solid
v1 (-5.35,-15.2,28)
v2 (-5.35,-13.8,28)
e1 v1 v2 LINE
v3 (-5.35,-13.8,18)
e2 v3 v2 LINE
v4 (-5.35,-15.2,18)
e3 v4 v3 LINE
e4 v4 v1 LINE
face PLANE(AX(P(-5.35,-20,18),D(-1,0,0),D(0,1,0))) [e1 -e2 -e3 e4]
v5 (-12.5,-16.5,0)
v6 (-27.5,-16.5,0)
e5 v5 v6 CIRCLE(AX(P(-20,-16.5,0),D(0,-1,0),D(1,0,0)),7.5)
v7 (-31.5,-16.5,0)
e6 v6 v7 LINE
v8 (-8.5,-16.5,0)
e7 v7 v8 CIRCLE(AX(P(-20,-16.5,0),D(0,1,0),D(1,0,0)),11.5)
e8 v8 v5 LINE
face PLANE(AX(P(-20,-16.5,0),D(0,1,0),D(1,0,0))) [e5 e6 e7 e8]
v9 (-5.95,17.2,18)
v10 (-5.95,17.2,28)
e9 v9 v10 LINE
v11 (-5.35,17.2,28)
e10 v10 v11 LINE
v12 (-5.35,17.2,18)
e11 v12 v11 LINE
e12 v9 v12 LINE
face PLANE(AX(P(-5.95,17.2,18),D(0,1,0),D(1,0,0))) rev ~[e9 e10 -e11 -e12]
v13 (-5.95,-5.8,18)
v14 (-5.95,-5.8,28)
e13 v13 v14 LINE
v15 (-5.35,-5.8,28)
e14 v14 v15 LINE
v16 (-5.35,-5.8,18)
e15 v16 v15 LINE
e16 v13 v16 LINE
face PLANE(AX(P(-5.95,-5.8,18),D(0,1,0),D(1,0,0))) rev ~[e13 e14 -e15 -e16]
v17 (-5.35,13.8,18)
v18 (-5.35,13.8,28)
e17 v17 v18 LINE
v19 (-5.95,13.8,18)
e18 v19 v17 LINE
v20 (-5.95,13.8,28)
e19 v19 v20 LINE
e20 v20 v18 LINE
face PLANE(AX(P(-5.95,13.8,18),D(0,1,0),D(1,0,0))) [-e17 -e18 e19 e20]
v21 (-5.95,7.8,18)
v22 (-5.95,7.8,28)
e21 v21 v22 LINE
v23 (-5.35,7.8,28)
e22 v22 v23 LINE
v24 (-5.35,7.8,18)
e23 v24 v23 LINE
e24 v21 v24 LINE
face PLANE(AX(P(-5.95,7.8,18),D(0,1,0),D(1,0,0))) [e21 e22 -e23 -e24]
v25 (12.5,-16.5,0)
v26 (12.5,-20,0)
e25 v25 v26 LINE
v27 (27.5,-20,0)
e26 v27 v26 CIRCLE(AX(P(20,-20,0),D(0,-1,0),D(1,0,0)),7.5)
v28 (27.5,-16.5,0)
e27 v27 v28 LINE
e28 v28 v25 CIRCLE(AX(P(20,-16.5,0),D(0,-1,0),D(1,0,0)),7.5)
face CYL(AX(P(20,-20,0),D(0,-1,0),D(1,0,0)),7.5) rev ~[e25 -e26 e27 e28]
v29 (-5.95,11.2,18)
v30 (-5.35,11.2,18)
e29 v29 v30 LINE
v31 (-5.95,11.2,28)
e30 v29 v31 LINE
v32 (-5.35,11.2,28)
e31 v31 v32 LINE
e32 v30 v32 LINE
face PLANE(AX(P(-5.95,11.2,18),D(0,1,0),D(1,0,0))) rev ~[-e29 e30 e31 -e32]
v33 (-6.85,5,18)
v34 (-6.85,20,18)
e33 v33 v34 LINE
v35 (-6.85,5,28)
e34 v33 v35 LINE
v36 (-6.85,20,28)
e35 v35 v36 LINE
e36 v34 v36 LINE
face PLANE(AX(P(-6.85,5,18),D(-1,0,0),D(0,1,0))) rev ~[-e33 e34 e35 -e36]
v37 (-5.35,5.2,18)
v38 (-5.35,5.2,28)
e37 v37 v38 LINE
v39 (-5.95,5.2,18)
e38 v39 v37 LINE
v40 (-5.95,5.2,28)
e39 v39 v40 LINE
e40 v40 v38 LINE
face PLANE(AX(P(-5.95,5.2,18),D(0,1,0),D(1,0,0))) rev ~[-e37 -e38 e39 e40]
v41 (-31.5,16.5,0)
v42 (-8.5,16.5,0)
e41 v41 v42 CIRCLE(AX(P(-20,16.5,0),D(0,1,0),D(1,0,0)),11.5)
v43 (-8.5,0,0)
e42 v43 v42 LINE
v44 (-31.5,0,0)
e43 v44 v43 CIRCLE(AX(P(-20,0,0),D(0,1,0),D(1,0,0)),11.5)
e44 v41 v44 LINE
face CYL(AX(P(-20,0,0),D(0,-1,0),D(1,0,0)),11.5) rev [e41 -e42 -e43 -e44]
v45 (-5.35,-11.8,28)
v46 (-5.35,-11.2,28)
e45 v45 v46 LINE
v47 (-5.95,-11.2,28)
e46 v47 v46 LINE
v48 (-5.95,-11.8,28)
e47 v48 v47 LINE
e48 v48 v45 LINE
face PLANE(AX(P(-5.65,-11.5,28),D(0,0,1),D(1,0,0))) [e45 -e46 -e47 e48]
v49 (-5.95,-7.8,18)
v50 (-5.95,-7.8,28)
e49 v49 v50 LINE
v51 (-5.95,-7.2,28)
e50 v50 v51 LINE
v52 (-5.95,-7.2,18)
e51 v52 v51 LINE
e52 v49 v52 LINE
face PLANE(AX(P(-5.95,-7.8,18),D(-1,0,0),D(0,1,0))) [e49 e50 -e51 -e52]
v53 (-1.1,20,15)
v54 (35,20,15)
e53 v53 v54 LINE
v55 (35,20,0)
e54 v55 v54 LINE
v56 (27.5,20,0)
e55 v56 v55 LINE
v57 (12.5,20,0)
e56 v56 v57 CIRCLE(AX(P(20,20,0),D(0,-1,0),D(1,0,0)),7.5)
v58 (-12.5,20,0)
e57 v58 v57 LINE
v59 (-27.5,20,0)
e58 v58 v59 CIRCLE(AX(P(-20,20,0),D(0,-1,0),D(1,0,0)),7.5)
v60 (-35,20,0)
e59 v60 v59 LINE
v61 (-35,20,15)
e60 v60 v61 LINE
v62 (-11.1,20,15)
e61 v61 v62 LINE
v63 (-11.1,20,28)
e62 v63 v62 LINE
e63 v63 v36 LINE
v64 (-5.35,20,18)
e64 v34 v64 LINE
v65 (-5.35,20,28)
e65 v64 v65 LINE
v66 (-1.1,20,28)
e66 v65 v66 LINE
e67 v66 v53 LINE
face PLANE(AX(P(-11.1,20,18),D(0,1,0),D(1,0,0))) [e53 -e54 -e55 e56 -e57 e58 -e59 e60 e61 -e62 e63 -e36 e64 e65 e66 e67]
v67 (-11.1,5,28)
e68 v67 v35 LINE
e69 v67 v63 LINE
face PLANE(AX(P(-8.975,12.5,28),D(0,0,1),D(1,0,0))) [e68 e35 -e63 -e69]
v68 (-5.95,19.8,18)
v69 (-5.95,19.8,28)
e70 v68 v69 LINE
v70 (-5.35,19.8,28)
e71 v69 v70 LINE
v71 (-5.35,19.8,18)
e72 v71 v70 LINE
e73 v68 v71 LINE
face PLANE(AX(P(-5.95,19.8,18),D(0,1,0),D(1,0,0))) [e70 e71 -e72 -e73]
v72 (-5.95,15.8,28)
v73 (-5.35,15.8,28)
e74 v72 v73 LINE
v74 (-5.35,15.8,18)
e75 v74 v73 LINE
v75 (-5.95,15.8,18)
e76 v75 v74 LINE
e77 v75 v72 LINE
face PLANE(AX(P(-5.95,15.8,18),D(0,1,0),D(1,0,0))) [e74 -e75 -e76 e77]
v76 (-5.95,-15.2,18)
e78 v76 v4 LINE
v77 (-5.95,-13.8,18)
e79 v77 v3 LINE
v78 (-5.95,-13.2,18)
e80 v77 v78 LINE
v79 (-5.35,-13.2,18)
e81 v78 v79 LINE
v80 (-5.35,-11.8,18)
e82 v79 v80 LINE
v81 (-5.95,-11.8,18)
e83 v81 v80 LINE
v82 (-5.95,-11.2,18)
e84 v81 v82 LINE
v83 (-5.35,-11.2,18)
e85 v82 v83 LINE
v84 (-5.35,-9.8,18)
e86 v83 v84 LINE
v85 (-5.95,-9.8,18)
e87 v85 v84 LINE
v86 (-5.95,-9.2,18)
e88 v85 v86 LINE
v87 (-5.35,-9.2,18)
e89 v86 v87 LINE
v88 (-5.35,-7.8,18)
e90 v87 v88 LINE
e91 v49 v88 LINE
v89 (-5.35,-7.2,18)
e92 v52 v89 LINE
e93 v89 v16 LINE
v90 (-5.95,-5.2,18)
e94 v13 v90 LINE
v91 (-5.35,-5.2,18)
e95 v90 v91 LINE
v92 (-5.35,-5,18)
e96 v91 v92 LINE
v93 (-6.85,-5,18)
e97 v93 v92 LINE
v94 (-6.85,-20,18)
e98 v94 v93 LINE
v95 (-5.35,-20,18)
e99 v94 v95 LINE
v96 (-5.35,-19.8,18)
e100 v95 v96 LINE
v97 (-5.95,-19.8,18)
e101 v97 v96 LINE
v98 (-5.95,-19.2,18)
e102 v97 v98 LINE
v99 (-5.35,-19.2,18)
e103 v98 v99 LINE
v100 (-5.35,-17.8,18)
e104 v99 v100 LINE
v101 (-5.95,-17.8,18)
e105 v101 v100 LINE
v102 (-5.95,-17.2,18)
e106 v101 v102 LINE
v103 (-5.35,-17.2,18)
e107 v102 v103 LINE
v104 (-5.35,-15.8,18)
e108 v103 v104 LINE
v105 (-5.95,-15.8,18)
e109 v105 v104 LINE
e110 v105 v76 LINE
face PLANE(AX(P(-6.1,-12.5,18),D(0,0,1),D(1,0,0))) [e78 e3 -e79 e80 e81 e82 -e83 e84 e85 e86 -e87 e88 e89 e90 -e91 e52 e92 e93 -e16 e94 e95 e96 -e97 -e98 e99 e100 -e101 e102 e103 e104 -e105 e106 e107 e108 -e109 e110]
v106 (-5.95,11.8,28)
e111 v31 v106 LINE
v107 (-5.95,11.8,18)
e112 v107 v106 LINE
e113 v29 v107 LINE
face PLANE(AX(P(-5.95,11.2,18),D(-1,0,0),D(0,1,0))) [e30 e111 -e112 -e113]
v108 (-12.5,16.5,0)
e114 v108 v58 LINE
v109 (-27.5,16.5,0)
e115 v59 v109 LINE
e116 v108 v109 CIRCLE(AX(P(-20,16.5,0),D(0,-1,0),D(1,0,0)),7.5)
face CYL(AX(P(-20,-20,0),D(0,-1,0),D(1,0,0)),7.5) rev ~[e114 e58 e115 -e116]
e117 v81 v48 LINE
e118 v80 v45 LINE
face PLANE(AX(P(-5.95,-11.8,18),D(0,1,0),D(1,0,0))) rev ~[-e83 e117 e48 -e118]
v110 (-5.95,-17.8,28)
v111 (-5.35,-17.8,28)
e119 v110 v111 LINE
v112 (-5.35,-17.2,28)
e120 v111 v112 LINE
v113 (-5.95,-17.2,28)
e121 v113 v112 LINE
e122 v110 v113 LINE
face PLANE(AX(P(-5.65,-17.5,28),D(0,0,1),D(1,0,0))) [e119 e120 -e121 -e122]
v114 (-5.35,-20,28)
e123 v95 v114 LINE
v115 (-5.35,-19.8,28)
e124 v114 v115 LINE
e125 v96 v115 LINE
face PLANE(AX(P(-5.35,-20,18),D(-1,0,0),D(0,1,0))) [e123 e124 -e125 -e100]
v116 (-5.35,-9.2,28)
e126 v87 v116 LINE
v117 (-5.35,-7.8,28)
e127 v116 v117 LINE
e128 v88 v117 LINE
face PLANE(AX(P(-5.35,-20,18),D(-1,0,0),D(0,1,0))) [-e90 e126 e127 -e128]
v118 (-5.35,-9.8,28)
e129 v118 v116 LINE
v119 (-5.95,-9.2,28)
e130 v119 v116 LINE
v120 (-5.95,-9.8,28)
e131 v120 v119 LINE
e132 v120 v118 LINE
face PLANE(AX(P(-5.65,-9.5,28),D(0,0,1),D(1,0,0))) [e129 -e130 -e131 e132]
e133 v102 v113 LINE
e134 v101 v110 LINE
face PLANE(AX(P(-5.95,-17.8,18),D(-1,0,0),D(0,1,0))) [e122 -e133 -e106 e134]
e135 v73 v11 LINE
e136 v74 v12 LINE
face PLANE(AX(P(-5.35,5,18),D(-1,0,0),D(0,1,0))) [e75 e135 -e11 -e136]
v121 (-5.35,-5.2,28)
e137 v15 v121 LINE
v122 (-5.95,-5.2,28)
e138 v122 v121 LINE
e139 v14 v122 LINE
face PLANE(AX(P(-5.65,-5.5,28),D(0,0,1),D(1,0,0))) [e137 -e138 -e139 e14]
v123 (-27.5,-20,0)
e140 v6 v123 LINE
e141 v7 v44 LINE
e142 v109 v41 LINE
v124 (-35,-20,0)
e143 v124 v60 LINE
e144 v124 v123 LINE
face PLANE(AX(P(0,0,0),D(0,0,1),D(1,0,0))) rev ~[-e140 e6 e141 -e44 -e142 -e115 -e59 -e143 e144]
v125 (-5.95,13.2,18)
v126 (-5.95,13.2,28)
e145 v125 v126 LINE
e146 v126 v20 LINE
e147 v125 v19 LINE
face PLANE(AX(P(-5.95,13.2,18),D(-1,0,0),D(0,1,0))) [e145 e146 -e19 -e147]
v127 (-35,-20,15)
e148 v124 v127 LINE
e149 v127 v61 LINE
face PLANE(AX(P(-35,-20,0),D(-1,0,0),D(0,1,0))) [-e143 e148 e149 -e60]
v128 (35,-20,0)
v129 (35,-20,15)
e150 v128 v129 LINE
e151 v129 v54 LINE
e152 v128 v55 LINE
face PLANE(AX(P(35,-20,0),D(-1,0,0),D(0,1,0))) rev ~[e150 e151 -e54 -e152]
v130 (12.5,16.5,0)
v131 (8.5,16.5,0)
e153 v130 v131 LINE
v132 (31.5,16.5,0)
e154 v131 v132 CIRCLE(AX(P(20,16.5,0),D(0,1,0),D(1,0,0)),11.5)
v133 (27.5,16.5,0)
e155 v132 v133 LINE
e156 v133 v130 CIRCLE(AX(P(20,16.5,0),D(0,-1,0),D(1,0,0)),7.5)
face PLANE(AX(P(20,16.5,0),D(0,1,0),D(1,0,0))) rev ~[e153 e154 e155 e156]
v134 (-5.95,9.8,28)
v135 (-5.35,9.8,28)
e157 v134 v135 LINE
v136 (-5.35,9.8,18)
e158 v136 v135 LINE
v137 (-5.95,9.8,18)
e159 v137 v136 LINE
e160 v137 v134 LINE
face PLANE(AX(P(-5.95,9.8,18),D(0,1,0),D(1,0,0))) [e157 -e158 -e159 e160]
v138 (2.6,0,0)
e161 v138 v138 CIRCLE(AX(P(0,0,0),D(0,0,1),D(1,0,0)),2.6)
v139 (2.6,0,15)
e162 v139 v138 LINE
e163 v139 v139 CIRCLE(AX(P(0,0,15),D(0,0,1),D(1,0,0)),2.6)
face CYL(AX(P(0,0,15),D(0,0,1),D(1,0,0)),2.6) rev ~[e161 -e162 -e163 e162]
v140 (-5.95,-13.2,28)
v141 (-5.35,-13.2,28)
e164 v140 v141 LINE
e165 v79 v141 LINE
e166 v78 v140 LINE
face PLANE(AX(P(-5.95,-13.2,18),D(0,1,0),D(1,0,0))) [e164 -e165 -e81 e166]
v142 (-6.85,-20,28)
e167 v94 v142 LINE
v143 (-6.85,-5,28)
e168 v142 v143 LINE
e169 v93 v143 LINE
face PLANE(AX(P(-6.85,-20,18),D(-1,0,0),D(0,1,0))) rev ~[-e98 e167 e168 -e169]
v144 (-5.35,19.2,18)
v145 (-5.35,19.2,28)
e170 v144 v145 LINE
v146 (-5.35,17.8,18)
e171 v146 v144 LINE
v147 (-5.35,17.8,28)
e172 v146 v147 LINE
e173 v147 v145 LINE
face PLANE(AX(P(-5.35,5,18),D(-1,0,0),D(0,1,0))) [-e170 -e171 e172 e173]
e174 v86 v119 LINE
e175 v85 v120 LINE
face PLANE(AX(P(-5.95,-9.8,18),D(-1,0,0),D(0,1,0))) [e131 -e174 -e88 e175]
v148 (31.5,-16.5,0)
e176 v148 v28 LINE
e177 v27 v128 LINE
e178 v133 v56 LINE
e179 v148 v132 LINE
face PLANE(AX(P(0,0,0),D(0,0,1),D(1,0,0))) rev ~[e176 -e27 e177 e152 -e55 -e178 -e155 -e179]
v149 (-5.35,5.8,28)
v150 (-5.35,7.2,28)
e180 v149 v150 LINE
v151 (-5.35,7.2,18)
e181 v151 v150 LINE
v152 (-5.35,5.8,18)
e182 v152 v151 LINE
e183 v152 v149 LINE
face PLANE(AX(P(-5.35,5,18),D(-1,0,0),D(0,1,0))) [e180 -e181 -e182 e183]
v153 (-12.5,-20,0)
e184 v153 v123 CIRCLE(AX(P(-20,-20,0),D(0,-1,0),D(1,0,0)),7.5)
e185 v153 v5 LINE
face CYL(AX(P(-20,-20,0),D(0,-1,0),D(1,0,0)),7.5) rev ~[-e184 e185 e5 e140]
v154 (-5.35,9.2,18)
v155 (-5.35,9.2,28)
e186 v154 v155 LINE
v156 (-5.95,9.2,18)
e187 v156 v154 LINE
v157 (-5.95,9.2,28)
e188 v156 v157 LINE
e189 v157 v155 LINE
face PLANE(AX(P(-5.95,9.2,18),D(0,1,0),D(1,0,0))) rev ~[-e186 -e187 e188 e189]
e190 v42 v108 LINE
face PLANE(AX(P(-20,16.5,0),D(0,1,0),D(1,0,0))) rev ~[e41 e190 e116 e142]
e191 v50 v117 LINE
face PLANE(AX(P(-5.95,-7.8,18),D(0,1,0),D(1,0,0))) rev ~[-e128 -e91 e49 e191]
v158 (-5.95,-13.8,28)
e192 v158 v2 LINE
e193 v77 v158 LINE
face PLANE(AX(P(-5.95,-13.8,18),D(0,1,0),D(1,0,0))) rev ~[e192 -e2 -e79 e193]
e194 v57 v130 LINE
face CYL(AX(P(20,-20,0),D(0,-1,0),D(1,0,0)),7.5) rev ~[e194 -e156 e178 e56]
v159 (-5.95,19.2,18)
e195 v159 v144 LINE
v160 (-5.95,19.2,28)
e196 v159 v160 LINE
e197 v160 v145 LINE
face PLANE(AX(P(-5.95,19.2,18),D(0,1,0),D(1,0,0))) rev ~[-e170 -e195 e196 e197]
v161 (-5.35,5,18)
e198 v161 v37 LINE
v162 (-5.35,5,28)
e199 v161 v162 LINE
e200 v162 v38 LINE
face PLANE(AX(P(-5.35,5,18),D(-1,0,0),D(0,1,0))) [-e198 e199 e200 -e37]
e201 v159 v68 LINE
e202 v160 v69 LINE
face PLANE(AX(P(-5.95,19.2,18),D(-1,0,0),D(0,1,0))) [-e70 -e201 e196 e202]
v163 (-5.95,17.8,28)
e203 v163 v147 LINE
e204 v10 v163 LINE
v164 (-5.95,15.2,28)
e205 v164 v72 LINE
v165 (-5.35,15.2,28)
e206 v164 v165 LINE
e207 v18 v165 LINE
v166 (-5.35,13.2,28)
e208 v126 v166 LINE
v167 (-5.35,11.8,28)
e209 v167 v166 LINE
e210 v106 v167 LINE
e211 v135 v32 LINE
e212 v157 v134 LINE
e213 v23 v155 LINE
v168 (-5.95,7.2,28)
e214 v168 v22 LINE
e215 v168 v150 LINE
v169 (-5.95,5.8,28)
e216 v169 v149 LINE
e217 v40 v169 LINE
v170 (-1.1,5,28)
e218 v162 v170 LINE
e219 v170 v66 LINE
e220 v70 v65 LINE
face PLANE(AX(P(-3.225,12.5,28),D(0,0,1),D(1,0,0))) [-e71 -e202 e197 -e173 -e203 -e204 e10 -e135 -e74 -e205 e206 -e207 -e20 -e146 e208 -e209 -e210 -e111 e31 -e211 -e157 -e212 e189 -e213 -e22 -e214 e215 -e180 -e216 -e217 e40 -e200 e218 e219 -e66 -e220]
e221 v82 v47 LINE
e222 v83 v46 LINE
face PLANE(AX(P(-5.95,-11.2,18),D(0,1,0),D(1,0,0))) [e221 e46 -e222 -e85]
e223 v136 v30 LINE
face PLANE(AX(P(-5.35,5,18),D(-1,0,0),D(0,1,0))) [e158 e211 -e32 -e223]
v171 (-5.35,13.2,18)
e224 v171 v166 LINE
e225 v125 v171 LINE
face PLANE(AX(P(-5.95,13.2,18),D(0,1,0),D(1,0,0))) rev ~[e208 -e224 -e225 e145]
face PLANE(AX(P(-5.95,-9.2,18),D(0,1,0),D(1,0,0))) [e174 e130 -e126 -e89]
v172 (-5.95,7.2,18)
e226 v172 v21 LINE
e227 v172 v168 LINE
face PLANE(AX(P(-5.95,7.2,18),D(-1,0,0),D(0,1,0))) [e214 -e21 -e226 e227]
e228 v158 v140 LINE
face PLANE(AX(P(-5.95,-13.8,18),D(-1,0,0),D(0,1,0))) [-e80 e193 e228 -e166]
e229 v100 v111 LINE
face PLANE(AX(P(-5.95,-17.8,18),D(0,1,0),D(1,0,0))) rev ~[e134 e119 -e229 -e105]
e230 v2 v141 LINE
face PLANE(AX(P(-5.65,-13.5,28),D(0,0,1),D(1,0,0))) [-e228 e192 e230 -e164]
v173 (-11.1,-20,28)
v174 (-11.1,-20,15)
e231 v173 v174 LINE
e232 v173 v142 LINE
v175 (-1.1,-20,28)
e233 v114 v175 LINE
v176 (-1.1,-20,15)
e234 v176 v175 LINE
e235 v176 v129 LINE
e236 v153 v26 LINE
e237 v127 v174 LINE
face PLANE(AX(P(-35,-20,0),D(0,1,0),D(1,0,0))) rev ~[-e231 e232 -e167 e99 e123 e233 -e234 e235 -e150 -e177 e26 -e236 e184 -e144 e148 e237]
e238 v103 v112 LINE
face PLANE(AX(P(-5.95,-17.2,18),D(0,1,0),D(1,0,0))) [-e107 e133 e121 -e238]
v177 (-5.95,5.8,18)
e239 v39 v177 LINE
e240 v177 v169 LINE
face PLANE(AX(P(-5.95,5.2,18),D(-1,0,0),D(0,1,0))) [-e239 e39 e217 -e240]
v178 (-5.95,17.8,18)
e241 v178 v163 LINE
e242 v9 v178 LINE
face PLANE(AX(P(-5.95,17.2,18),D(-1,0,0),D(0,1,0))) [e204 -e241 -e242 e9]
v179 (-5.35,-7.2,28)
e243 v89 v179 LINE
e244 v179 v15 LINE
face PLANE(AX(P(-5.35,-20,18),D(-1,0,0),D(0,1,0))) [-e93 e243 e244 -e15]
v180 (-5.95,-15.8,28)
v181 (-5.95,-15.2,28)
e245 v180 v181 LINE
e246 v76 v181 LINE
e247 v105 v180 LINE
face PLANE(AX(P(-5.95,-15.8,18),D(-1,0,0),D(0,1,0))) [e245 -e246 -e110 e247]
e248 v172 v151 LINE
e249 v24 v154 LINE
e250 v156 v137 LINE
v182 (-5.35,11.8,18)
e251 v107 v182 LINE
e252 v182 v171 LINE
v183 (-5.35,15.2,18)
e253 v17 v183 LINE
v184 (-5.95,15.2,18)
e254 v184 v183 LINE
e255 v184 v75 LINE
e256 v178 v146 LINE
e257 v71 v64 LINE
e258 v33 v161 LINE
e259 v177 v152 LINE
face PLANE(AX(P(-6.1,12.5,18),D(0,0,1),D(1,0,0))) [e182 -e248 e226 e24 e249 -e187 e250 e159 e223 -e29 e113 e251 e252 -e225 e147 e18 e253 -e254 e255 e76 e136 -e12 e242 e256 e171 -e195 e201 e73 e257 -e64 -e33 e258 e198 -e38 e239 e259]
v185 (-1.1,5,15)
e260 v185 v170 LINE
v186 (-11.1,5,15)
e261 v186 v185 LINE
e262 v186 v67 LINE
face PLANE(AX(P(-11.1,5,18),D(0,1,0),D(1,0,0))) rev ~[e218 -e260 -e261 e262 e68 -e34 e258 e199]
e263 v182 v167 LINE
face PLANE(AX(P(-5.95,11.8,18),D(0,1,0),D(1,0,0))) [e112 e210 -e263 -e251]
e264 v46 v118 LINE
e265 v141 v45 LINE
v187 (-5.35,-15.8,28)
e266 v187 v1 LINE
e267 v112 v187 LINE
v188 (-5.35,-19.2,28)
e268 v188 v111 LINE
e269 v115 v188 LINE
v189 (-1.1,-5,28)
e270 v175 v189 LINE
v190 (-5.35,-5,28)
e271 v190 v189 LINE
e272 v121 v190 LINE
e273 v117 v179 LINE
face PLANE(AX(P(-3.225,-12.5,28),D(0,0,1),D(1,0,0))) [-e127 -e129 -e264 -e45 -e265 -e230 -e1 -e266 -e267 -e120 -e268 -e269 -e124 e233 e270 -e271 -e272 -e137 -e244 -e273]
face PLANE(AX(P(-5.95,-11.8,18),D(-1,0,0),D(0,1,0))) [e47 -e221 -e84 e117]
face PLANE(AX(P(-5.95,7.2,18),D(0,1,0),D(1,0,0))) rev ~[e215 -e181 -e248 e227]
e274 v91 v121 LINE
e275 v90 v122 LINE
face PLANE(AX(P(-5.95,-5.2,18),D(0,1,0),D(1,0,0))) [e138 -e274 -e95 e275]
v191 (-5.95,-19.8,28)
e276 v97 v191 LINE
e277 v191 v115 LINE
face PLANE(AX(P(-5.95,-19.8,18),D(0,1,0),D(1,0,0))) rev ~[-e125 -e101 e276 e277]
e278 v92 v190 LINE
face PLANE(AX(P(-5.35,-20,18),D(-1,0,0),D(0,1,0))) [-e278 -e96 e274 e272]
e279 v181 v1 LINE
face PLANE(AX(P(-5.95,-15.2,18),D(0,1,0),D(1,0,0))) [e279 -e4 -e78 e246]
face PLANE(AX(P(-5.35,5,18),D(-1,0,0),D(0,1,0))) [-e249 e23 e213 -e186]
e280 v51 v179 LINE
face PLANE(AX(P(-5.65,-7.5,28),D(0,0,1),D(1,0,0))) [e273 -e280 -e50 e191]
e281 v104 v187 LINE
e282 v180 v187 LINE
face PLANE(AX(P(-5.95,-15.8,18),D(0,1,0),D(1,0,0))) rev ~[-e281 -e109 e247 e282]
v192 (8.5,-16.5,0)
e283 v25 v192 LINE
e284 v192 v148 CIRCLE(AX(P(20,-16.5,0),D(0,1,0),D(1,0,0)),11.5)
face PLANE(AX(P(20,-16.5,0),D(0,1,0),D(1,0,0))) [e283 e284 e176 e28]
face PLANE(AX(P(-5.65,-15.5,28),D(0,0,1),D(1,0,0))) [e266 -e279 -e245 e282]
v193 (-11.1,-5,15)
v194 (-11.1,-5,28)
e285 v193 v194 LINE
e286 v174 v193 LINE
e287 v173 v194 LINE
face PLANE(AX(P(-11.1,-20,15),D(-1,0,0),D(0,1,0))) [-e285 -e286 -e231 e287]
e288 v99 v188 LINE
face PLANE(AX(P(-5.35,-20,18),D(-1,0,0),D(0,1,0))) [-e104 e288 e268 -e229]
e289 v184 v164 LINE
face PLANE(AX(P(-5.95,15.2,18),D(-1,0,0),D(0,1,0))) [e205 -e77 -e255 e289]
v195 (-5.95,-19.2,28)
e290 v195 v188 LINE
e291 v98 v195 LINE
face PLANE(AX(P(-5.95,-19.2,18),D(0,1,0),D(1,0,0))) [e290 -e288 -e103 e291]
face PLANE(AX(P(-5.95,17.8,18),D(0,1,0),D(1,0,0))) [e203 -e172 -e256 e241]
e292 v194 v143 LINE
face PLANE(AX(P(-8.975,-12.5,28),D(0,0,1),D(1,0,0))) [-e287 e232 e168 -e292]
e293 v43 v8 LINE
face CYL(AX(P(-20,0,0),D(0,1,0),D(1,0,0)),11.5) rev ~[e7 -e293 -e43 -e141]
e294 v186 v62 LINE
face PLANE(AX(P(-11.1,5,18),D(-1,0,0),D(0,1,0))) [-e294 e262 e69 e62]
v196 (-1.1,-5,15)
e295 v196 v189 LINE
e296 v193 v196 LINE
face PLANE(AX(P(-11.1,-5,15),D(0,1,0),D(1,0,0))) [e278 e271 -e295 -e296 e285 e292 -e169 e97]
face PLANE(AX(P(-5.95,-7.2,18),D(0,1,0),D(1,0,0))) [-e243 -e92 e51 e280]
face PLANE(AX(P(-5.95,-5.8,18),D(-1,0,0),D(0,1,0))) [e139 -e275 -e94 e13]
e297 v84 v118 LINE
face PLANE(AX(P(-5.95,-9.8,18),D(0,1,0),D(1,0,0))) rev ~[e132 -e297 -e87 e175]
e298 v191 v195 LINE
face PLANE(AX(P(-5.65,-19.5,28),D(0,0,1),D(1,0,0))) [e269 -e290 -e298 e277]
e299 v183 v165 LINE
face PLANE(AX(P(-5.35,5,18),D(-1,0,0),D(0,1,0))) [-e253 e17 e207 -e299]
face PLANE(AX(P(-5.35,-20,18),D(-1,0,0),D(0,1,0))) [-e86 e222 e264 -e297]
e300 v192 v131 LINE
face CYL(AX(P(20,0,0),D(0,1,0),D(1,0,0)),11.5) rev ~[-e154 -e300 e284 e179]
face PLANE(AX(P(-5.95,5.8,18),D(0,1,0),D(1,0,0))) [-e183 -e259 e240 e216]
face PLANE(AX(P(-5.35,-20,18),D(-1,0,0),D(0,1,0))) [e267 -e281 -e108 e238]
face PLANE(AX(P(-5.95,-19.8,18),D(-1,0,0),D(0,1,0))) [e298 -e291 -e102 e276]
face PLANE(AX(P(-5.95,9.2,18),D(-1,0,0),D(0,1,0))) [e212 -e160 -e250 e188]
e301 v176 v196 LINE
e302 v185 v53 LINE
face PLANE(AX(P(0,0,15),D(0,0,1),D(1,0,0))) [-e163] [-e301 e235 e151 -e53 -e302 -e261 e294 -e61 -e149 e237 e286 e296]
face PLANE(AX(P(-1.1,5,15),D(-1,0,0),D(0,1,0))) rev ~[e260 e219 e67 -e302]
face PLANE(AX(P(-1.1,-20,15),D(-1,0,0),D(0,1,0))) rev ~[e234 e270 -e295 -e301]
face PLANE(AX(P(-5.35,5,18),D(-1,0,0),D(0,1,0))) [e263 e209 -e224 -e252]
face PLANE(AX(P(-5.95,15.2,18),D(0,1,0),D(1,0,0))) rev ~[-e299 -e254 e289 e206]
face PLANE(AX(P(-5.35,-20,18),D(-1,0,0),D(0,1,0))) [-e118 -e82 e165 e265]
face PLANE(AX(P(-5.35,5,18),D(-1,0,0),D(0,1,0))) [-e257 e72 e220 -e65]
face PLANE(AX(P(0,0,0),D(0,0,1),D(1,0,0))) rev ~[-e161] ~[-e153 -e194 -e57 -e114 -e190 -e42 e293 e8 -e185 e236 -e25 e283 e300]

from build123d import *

# Parameters (mm, degrees)
SKETCH1_W           = 70
SKETCH1_H           = 40
BOSS_EXTRUDE1_DEPTH = 15
SKETCH2_R           = 7.5
CUT_EXTRUDE1_DEPTH  = 56.226805086
SKETCH3_R           = 11.5
CUT_EXTRUDE2_DEPTH  = 16.5
SKETCH4_R           = 2.6
CUT_EXTRUDE3_DEPTH  = 44.011626335
SKETCH5_W           = 10
SKETCH5_H           = 15
BOSS_EXTRUDE2_DEPTH = 3
SKETCH8_W           = 4.25
SKETCH8_H           = 15
BOSS_EXTRUDE5_DEPTH = 10
SKETCH9_W           = 0.6
SKETCH9_H           = 0.6
BOSS_EXTRUDE6_DEPTH = 10


with BuildPart() as part:
    # Sketch1 → Boss-Extrude1 (new body)
    with BuildSketch(Plane.XY):
        Rectangle(SKETCH1_W, SKETCH1_H)
    extrude(amount=BOSS_EXTRUDE1_DEPTH)

    # Sketch2 → Cut-Extrude1 (cut, through all)
    with BuildSketch(Plane.XZ.offset(20)):
        with Locations((-20, 0)):
            Circle(SKETCH2_R)
        with Locations((20, 0)):
            Circle(SKETCH2_R)
    extrude(amount=-CUT_EXTRUDE1_DEPTH, mode=Mode.SUBTRACT)

    # Sketch3 → Cut-Extrude2 (cut, symmetric)
    with BuildSketch(Plane(origin=(0, 0, 0), x_dir=(1, 0, 0), z_dir=(0, 1, 0))):
        with Locations((-20, 0)):
            Circle(SKETCH3_R)
        with Locations((20, 0)):
            Circle(SKETCH3_R)
    extrude(amount=CUT_EXTRUDE2_DEPTH, both=True, mode=Mode.SUBTRACT)

    # Sketch4 → Cut-Extrude3 (cut, through all)
    with BuildSketch(Plane.XY.offset(15)):
        Circle(SKETCH4_R)
    extrude(amount=-CUT_EXTRUDE3_DEPTH, mode=Mode.SUBTRACT)

    # Sketch5 → Boss-Extrude2 (add)
    with BuildSketch(Plane.XY.offset(15)):
        with Locations((-6.1, 12.5)):
            Rectangle(SKETCH5_W, SKETCH5_H)
        with Locations((-6.1, -12.5)):
            Rectangle(SKETCH5_W, SKETCH5_H)
    extrude(amount=BOSS_EXTRUDE2_DEPTH)

    # Sketch8 → Boss-Extrude5 (add)
    with BuildSketch(Plane.XY.offset(18)):
        with Locations((-8.975, 12.5)):
            Rectangle(SKETCH8_W, SKETCH8_H)
        with Locations((-3.225, 12.5)):
            Rectangle(SKETCH8_W, SKETCH8_H)
        with Locations((-8.975, -12.5)):
            Rectangle(SKETCH8_W, SKETCH8_H)
        with Locations((-3.225, -12.5)):
            Rectangle(SKETCH8_W, SKETCH8_H)
    extrude(amount=BOSS_EXTRUDE5_DEPTH)

    # Sketch9 → Boss-Extrude6 (add)
    with BuildSketch(Plane.XY.offset(18)):
        with Locations((-5.65, 19.5)):
            Rectangle(SKETCH9_W, SKETCH9_H)
        with Locations((-5.65, 17.5)):
            Rectangle(SKETCH9_W, SKETCH9_H)
        with Locations((-5.65, 15.5)):
            Rectangle(SKETCH9_W, SKETCH9_H)
        with Locations((-5.65, 13.5)):
            Rectangle(SKETCH9_W, SKETCH9_H)
        with Locations((-5.65, 11.5)):
            Rectangle(SKETCH9_W, SKETCH9_H)
        with Locations((-5.65, 9.5)):
            Rectangle(SKETCH9_W, SKETCH9_H)
        with Locations((-5.65, 7.5)):
            Rectangle(SKETCH9_W, SKETCH9_H)
        with Locations((-5.65, 5.5)):
            Rectangle(SKETCH9_W, SKETCH9_H)
        with Locations((-5.65, -19.5)):
            Rectangle(SKETCH9_W, SKETCH9_H)
        with Locations((-5.65, -17.5)):
            Rectangle(SKETCH9_W, SKETCH9_H)
        with Locations((-5.65, -15.5)):
            Rectangle(SKETCH9_W, SKETCH9_H)
        with Locations((-5.65, -13.5)):
            Rectangle(SKETCH9_W, SKETCH9_H)
        with Locations((-5.65, -11.5)):
            Rectangle(SKETCH9_W, SKETCH9_H)
        with Locations((-5.65, -9.5)):
            Rectangle(SKETCH9_W, SKETCH9_H)
        with Locations((-5.65, -7.5)):
            Rectangle(SKETCH9_W, SKETCH9_H)
        with Locations((-5.65, -5.5)):
            Rectangle(SKETCH9_W, SKETCH9_H)
    extrude(amount=BOSS_EXTRUDE6_DEPTH)


solid = part.part
